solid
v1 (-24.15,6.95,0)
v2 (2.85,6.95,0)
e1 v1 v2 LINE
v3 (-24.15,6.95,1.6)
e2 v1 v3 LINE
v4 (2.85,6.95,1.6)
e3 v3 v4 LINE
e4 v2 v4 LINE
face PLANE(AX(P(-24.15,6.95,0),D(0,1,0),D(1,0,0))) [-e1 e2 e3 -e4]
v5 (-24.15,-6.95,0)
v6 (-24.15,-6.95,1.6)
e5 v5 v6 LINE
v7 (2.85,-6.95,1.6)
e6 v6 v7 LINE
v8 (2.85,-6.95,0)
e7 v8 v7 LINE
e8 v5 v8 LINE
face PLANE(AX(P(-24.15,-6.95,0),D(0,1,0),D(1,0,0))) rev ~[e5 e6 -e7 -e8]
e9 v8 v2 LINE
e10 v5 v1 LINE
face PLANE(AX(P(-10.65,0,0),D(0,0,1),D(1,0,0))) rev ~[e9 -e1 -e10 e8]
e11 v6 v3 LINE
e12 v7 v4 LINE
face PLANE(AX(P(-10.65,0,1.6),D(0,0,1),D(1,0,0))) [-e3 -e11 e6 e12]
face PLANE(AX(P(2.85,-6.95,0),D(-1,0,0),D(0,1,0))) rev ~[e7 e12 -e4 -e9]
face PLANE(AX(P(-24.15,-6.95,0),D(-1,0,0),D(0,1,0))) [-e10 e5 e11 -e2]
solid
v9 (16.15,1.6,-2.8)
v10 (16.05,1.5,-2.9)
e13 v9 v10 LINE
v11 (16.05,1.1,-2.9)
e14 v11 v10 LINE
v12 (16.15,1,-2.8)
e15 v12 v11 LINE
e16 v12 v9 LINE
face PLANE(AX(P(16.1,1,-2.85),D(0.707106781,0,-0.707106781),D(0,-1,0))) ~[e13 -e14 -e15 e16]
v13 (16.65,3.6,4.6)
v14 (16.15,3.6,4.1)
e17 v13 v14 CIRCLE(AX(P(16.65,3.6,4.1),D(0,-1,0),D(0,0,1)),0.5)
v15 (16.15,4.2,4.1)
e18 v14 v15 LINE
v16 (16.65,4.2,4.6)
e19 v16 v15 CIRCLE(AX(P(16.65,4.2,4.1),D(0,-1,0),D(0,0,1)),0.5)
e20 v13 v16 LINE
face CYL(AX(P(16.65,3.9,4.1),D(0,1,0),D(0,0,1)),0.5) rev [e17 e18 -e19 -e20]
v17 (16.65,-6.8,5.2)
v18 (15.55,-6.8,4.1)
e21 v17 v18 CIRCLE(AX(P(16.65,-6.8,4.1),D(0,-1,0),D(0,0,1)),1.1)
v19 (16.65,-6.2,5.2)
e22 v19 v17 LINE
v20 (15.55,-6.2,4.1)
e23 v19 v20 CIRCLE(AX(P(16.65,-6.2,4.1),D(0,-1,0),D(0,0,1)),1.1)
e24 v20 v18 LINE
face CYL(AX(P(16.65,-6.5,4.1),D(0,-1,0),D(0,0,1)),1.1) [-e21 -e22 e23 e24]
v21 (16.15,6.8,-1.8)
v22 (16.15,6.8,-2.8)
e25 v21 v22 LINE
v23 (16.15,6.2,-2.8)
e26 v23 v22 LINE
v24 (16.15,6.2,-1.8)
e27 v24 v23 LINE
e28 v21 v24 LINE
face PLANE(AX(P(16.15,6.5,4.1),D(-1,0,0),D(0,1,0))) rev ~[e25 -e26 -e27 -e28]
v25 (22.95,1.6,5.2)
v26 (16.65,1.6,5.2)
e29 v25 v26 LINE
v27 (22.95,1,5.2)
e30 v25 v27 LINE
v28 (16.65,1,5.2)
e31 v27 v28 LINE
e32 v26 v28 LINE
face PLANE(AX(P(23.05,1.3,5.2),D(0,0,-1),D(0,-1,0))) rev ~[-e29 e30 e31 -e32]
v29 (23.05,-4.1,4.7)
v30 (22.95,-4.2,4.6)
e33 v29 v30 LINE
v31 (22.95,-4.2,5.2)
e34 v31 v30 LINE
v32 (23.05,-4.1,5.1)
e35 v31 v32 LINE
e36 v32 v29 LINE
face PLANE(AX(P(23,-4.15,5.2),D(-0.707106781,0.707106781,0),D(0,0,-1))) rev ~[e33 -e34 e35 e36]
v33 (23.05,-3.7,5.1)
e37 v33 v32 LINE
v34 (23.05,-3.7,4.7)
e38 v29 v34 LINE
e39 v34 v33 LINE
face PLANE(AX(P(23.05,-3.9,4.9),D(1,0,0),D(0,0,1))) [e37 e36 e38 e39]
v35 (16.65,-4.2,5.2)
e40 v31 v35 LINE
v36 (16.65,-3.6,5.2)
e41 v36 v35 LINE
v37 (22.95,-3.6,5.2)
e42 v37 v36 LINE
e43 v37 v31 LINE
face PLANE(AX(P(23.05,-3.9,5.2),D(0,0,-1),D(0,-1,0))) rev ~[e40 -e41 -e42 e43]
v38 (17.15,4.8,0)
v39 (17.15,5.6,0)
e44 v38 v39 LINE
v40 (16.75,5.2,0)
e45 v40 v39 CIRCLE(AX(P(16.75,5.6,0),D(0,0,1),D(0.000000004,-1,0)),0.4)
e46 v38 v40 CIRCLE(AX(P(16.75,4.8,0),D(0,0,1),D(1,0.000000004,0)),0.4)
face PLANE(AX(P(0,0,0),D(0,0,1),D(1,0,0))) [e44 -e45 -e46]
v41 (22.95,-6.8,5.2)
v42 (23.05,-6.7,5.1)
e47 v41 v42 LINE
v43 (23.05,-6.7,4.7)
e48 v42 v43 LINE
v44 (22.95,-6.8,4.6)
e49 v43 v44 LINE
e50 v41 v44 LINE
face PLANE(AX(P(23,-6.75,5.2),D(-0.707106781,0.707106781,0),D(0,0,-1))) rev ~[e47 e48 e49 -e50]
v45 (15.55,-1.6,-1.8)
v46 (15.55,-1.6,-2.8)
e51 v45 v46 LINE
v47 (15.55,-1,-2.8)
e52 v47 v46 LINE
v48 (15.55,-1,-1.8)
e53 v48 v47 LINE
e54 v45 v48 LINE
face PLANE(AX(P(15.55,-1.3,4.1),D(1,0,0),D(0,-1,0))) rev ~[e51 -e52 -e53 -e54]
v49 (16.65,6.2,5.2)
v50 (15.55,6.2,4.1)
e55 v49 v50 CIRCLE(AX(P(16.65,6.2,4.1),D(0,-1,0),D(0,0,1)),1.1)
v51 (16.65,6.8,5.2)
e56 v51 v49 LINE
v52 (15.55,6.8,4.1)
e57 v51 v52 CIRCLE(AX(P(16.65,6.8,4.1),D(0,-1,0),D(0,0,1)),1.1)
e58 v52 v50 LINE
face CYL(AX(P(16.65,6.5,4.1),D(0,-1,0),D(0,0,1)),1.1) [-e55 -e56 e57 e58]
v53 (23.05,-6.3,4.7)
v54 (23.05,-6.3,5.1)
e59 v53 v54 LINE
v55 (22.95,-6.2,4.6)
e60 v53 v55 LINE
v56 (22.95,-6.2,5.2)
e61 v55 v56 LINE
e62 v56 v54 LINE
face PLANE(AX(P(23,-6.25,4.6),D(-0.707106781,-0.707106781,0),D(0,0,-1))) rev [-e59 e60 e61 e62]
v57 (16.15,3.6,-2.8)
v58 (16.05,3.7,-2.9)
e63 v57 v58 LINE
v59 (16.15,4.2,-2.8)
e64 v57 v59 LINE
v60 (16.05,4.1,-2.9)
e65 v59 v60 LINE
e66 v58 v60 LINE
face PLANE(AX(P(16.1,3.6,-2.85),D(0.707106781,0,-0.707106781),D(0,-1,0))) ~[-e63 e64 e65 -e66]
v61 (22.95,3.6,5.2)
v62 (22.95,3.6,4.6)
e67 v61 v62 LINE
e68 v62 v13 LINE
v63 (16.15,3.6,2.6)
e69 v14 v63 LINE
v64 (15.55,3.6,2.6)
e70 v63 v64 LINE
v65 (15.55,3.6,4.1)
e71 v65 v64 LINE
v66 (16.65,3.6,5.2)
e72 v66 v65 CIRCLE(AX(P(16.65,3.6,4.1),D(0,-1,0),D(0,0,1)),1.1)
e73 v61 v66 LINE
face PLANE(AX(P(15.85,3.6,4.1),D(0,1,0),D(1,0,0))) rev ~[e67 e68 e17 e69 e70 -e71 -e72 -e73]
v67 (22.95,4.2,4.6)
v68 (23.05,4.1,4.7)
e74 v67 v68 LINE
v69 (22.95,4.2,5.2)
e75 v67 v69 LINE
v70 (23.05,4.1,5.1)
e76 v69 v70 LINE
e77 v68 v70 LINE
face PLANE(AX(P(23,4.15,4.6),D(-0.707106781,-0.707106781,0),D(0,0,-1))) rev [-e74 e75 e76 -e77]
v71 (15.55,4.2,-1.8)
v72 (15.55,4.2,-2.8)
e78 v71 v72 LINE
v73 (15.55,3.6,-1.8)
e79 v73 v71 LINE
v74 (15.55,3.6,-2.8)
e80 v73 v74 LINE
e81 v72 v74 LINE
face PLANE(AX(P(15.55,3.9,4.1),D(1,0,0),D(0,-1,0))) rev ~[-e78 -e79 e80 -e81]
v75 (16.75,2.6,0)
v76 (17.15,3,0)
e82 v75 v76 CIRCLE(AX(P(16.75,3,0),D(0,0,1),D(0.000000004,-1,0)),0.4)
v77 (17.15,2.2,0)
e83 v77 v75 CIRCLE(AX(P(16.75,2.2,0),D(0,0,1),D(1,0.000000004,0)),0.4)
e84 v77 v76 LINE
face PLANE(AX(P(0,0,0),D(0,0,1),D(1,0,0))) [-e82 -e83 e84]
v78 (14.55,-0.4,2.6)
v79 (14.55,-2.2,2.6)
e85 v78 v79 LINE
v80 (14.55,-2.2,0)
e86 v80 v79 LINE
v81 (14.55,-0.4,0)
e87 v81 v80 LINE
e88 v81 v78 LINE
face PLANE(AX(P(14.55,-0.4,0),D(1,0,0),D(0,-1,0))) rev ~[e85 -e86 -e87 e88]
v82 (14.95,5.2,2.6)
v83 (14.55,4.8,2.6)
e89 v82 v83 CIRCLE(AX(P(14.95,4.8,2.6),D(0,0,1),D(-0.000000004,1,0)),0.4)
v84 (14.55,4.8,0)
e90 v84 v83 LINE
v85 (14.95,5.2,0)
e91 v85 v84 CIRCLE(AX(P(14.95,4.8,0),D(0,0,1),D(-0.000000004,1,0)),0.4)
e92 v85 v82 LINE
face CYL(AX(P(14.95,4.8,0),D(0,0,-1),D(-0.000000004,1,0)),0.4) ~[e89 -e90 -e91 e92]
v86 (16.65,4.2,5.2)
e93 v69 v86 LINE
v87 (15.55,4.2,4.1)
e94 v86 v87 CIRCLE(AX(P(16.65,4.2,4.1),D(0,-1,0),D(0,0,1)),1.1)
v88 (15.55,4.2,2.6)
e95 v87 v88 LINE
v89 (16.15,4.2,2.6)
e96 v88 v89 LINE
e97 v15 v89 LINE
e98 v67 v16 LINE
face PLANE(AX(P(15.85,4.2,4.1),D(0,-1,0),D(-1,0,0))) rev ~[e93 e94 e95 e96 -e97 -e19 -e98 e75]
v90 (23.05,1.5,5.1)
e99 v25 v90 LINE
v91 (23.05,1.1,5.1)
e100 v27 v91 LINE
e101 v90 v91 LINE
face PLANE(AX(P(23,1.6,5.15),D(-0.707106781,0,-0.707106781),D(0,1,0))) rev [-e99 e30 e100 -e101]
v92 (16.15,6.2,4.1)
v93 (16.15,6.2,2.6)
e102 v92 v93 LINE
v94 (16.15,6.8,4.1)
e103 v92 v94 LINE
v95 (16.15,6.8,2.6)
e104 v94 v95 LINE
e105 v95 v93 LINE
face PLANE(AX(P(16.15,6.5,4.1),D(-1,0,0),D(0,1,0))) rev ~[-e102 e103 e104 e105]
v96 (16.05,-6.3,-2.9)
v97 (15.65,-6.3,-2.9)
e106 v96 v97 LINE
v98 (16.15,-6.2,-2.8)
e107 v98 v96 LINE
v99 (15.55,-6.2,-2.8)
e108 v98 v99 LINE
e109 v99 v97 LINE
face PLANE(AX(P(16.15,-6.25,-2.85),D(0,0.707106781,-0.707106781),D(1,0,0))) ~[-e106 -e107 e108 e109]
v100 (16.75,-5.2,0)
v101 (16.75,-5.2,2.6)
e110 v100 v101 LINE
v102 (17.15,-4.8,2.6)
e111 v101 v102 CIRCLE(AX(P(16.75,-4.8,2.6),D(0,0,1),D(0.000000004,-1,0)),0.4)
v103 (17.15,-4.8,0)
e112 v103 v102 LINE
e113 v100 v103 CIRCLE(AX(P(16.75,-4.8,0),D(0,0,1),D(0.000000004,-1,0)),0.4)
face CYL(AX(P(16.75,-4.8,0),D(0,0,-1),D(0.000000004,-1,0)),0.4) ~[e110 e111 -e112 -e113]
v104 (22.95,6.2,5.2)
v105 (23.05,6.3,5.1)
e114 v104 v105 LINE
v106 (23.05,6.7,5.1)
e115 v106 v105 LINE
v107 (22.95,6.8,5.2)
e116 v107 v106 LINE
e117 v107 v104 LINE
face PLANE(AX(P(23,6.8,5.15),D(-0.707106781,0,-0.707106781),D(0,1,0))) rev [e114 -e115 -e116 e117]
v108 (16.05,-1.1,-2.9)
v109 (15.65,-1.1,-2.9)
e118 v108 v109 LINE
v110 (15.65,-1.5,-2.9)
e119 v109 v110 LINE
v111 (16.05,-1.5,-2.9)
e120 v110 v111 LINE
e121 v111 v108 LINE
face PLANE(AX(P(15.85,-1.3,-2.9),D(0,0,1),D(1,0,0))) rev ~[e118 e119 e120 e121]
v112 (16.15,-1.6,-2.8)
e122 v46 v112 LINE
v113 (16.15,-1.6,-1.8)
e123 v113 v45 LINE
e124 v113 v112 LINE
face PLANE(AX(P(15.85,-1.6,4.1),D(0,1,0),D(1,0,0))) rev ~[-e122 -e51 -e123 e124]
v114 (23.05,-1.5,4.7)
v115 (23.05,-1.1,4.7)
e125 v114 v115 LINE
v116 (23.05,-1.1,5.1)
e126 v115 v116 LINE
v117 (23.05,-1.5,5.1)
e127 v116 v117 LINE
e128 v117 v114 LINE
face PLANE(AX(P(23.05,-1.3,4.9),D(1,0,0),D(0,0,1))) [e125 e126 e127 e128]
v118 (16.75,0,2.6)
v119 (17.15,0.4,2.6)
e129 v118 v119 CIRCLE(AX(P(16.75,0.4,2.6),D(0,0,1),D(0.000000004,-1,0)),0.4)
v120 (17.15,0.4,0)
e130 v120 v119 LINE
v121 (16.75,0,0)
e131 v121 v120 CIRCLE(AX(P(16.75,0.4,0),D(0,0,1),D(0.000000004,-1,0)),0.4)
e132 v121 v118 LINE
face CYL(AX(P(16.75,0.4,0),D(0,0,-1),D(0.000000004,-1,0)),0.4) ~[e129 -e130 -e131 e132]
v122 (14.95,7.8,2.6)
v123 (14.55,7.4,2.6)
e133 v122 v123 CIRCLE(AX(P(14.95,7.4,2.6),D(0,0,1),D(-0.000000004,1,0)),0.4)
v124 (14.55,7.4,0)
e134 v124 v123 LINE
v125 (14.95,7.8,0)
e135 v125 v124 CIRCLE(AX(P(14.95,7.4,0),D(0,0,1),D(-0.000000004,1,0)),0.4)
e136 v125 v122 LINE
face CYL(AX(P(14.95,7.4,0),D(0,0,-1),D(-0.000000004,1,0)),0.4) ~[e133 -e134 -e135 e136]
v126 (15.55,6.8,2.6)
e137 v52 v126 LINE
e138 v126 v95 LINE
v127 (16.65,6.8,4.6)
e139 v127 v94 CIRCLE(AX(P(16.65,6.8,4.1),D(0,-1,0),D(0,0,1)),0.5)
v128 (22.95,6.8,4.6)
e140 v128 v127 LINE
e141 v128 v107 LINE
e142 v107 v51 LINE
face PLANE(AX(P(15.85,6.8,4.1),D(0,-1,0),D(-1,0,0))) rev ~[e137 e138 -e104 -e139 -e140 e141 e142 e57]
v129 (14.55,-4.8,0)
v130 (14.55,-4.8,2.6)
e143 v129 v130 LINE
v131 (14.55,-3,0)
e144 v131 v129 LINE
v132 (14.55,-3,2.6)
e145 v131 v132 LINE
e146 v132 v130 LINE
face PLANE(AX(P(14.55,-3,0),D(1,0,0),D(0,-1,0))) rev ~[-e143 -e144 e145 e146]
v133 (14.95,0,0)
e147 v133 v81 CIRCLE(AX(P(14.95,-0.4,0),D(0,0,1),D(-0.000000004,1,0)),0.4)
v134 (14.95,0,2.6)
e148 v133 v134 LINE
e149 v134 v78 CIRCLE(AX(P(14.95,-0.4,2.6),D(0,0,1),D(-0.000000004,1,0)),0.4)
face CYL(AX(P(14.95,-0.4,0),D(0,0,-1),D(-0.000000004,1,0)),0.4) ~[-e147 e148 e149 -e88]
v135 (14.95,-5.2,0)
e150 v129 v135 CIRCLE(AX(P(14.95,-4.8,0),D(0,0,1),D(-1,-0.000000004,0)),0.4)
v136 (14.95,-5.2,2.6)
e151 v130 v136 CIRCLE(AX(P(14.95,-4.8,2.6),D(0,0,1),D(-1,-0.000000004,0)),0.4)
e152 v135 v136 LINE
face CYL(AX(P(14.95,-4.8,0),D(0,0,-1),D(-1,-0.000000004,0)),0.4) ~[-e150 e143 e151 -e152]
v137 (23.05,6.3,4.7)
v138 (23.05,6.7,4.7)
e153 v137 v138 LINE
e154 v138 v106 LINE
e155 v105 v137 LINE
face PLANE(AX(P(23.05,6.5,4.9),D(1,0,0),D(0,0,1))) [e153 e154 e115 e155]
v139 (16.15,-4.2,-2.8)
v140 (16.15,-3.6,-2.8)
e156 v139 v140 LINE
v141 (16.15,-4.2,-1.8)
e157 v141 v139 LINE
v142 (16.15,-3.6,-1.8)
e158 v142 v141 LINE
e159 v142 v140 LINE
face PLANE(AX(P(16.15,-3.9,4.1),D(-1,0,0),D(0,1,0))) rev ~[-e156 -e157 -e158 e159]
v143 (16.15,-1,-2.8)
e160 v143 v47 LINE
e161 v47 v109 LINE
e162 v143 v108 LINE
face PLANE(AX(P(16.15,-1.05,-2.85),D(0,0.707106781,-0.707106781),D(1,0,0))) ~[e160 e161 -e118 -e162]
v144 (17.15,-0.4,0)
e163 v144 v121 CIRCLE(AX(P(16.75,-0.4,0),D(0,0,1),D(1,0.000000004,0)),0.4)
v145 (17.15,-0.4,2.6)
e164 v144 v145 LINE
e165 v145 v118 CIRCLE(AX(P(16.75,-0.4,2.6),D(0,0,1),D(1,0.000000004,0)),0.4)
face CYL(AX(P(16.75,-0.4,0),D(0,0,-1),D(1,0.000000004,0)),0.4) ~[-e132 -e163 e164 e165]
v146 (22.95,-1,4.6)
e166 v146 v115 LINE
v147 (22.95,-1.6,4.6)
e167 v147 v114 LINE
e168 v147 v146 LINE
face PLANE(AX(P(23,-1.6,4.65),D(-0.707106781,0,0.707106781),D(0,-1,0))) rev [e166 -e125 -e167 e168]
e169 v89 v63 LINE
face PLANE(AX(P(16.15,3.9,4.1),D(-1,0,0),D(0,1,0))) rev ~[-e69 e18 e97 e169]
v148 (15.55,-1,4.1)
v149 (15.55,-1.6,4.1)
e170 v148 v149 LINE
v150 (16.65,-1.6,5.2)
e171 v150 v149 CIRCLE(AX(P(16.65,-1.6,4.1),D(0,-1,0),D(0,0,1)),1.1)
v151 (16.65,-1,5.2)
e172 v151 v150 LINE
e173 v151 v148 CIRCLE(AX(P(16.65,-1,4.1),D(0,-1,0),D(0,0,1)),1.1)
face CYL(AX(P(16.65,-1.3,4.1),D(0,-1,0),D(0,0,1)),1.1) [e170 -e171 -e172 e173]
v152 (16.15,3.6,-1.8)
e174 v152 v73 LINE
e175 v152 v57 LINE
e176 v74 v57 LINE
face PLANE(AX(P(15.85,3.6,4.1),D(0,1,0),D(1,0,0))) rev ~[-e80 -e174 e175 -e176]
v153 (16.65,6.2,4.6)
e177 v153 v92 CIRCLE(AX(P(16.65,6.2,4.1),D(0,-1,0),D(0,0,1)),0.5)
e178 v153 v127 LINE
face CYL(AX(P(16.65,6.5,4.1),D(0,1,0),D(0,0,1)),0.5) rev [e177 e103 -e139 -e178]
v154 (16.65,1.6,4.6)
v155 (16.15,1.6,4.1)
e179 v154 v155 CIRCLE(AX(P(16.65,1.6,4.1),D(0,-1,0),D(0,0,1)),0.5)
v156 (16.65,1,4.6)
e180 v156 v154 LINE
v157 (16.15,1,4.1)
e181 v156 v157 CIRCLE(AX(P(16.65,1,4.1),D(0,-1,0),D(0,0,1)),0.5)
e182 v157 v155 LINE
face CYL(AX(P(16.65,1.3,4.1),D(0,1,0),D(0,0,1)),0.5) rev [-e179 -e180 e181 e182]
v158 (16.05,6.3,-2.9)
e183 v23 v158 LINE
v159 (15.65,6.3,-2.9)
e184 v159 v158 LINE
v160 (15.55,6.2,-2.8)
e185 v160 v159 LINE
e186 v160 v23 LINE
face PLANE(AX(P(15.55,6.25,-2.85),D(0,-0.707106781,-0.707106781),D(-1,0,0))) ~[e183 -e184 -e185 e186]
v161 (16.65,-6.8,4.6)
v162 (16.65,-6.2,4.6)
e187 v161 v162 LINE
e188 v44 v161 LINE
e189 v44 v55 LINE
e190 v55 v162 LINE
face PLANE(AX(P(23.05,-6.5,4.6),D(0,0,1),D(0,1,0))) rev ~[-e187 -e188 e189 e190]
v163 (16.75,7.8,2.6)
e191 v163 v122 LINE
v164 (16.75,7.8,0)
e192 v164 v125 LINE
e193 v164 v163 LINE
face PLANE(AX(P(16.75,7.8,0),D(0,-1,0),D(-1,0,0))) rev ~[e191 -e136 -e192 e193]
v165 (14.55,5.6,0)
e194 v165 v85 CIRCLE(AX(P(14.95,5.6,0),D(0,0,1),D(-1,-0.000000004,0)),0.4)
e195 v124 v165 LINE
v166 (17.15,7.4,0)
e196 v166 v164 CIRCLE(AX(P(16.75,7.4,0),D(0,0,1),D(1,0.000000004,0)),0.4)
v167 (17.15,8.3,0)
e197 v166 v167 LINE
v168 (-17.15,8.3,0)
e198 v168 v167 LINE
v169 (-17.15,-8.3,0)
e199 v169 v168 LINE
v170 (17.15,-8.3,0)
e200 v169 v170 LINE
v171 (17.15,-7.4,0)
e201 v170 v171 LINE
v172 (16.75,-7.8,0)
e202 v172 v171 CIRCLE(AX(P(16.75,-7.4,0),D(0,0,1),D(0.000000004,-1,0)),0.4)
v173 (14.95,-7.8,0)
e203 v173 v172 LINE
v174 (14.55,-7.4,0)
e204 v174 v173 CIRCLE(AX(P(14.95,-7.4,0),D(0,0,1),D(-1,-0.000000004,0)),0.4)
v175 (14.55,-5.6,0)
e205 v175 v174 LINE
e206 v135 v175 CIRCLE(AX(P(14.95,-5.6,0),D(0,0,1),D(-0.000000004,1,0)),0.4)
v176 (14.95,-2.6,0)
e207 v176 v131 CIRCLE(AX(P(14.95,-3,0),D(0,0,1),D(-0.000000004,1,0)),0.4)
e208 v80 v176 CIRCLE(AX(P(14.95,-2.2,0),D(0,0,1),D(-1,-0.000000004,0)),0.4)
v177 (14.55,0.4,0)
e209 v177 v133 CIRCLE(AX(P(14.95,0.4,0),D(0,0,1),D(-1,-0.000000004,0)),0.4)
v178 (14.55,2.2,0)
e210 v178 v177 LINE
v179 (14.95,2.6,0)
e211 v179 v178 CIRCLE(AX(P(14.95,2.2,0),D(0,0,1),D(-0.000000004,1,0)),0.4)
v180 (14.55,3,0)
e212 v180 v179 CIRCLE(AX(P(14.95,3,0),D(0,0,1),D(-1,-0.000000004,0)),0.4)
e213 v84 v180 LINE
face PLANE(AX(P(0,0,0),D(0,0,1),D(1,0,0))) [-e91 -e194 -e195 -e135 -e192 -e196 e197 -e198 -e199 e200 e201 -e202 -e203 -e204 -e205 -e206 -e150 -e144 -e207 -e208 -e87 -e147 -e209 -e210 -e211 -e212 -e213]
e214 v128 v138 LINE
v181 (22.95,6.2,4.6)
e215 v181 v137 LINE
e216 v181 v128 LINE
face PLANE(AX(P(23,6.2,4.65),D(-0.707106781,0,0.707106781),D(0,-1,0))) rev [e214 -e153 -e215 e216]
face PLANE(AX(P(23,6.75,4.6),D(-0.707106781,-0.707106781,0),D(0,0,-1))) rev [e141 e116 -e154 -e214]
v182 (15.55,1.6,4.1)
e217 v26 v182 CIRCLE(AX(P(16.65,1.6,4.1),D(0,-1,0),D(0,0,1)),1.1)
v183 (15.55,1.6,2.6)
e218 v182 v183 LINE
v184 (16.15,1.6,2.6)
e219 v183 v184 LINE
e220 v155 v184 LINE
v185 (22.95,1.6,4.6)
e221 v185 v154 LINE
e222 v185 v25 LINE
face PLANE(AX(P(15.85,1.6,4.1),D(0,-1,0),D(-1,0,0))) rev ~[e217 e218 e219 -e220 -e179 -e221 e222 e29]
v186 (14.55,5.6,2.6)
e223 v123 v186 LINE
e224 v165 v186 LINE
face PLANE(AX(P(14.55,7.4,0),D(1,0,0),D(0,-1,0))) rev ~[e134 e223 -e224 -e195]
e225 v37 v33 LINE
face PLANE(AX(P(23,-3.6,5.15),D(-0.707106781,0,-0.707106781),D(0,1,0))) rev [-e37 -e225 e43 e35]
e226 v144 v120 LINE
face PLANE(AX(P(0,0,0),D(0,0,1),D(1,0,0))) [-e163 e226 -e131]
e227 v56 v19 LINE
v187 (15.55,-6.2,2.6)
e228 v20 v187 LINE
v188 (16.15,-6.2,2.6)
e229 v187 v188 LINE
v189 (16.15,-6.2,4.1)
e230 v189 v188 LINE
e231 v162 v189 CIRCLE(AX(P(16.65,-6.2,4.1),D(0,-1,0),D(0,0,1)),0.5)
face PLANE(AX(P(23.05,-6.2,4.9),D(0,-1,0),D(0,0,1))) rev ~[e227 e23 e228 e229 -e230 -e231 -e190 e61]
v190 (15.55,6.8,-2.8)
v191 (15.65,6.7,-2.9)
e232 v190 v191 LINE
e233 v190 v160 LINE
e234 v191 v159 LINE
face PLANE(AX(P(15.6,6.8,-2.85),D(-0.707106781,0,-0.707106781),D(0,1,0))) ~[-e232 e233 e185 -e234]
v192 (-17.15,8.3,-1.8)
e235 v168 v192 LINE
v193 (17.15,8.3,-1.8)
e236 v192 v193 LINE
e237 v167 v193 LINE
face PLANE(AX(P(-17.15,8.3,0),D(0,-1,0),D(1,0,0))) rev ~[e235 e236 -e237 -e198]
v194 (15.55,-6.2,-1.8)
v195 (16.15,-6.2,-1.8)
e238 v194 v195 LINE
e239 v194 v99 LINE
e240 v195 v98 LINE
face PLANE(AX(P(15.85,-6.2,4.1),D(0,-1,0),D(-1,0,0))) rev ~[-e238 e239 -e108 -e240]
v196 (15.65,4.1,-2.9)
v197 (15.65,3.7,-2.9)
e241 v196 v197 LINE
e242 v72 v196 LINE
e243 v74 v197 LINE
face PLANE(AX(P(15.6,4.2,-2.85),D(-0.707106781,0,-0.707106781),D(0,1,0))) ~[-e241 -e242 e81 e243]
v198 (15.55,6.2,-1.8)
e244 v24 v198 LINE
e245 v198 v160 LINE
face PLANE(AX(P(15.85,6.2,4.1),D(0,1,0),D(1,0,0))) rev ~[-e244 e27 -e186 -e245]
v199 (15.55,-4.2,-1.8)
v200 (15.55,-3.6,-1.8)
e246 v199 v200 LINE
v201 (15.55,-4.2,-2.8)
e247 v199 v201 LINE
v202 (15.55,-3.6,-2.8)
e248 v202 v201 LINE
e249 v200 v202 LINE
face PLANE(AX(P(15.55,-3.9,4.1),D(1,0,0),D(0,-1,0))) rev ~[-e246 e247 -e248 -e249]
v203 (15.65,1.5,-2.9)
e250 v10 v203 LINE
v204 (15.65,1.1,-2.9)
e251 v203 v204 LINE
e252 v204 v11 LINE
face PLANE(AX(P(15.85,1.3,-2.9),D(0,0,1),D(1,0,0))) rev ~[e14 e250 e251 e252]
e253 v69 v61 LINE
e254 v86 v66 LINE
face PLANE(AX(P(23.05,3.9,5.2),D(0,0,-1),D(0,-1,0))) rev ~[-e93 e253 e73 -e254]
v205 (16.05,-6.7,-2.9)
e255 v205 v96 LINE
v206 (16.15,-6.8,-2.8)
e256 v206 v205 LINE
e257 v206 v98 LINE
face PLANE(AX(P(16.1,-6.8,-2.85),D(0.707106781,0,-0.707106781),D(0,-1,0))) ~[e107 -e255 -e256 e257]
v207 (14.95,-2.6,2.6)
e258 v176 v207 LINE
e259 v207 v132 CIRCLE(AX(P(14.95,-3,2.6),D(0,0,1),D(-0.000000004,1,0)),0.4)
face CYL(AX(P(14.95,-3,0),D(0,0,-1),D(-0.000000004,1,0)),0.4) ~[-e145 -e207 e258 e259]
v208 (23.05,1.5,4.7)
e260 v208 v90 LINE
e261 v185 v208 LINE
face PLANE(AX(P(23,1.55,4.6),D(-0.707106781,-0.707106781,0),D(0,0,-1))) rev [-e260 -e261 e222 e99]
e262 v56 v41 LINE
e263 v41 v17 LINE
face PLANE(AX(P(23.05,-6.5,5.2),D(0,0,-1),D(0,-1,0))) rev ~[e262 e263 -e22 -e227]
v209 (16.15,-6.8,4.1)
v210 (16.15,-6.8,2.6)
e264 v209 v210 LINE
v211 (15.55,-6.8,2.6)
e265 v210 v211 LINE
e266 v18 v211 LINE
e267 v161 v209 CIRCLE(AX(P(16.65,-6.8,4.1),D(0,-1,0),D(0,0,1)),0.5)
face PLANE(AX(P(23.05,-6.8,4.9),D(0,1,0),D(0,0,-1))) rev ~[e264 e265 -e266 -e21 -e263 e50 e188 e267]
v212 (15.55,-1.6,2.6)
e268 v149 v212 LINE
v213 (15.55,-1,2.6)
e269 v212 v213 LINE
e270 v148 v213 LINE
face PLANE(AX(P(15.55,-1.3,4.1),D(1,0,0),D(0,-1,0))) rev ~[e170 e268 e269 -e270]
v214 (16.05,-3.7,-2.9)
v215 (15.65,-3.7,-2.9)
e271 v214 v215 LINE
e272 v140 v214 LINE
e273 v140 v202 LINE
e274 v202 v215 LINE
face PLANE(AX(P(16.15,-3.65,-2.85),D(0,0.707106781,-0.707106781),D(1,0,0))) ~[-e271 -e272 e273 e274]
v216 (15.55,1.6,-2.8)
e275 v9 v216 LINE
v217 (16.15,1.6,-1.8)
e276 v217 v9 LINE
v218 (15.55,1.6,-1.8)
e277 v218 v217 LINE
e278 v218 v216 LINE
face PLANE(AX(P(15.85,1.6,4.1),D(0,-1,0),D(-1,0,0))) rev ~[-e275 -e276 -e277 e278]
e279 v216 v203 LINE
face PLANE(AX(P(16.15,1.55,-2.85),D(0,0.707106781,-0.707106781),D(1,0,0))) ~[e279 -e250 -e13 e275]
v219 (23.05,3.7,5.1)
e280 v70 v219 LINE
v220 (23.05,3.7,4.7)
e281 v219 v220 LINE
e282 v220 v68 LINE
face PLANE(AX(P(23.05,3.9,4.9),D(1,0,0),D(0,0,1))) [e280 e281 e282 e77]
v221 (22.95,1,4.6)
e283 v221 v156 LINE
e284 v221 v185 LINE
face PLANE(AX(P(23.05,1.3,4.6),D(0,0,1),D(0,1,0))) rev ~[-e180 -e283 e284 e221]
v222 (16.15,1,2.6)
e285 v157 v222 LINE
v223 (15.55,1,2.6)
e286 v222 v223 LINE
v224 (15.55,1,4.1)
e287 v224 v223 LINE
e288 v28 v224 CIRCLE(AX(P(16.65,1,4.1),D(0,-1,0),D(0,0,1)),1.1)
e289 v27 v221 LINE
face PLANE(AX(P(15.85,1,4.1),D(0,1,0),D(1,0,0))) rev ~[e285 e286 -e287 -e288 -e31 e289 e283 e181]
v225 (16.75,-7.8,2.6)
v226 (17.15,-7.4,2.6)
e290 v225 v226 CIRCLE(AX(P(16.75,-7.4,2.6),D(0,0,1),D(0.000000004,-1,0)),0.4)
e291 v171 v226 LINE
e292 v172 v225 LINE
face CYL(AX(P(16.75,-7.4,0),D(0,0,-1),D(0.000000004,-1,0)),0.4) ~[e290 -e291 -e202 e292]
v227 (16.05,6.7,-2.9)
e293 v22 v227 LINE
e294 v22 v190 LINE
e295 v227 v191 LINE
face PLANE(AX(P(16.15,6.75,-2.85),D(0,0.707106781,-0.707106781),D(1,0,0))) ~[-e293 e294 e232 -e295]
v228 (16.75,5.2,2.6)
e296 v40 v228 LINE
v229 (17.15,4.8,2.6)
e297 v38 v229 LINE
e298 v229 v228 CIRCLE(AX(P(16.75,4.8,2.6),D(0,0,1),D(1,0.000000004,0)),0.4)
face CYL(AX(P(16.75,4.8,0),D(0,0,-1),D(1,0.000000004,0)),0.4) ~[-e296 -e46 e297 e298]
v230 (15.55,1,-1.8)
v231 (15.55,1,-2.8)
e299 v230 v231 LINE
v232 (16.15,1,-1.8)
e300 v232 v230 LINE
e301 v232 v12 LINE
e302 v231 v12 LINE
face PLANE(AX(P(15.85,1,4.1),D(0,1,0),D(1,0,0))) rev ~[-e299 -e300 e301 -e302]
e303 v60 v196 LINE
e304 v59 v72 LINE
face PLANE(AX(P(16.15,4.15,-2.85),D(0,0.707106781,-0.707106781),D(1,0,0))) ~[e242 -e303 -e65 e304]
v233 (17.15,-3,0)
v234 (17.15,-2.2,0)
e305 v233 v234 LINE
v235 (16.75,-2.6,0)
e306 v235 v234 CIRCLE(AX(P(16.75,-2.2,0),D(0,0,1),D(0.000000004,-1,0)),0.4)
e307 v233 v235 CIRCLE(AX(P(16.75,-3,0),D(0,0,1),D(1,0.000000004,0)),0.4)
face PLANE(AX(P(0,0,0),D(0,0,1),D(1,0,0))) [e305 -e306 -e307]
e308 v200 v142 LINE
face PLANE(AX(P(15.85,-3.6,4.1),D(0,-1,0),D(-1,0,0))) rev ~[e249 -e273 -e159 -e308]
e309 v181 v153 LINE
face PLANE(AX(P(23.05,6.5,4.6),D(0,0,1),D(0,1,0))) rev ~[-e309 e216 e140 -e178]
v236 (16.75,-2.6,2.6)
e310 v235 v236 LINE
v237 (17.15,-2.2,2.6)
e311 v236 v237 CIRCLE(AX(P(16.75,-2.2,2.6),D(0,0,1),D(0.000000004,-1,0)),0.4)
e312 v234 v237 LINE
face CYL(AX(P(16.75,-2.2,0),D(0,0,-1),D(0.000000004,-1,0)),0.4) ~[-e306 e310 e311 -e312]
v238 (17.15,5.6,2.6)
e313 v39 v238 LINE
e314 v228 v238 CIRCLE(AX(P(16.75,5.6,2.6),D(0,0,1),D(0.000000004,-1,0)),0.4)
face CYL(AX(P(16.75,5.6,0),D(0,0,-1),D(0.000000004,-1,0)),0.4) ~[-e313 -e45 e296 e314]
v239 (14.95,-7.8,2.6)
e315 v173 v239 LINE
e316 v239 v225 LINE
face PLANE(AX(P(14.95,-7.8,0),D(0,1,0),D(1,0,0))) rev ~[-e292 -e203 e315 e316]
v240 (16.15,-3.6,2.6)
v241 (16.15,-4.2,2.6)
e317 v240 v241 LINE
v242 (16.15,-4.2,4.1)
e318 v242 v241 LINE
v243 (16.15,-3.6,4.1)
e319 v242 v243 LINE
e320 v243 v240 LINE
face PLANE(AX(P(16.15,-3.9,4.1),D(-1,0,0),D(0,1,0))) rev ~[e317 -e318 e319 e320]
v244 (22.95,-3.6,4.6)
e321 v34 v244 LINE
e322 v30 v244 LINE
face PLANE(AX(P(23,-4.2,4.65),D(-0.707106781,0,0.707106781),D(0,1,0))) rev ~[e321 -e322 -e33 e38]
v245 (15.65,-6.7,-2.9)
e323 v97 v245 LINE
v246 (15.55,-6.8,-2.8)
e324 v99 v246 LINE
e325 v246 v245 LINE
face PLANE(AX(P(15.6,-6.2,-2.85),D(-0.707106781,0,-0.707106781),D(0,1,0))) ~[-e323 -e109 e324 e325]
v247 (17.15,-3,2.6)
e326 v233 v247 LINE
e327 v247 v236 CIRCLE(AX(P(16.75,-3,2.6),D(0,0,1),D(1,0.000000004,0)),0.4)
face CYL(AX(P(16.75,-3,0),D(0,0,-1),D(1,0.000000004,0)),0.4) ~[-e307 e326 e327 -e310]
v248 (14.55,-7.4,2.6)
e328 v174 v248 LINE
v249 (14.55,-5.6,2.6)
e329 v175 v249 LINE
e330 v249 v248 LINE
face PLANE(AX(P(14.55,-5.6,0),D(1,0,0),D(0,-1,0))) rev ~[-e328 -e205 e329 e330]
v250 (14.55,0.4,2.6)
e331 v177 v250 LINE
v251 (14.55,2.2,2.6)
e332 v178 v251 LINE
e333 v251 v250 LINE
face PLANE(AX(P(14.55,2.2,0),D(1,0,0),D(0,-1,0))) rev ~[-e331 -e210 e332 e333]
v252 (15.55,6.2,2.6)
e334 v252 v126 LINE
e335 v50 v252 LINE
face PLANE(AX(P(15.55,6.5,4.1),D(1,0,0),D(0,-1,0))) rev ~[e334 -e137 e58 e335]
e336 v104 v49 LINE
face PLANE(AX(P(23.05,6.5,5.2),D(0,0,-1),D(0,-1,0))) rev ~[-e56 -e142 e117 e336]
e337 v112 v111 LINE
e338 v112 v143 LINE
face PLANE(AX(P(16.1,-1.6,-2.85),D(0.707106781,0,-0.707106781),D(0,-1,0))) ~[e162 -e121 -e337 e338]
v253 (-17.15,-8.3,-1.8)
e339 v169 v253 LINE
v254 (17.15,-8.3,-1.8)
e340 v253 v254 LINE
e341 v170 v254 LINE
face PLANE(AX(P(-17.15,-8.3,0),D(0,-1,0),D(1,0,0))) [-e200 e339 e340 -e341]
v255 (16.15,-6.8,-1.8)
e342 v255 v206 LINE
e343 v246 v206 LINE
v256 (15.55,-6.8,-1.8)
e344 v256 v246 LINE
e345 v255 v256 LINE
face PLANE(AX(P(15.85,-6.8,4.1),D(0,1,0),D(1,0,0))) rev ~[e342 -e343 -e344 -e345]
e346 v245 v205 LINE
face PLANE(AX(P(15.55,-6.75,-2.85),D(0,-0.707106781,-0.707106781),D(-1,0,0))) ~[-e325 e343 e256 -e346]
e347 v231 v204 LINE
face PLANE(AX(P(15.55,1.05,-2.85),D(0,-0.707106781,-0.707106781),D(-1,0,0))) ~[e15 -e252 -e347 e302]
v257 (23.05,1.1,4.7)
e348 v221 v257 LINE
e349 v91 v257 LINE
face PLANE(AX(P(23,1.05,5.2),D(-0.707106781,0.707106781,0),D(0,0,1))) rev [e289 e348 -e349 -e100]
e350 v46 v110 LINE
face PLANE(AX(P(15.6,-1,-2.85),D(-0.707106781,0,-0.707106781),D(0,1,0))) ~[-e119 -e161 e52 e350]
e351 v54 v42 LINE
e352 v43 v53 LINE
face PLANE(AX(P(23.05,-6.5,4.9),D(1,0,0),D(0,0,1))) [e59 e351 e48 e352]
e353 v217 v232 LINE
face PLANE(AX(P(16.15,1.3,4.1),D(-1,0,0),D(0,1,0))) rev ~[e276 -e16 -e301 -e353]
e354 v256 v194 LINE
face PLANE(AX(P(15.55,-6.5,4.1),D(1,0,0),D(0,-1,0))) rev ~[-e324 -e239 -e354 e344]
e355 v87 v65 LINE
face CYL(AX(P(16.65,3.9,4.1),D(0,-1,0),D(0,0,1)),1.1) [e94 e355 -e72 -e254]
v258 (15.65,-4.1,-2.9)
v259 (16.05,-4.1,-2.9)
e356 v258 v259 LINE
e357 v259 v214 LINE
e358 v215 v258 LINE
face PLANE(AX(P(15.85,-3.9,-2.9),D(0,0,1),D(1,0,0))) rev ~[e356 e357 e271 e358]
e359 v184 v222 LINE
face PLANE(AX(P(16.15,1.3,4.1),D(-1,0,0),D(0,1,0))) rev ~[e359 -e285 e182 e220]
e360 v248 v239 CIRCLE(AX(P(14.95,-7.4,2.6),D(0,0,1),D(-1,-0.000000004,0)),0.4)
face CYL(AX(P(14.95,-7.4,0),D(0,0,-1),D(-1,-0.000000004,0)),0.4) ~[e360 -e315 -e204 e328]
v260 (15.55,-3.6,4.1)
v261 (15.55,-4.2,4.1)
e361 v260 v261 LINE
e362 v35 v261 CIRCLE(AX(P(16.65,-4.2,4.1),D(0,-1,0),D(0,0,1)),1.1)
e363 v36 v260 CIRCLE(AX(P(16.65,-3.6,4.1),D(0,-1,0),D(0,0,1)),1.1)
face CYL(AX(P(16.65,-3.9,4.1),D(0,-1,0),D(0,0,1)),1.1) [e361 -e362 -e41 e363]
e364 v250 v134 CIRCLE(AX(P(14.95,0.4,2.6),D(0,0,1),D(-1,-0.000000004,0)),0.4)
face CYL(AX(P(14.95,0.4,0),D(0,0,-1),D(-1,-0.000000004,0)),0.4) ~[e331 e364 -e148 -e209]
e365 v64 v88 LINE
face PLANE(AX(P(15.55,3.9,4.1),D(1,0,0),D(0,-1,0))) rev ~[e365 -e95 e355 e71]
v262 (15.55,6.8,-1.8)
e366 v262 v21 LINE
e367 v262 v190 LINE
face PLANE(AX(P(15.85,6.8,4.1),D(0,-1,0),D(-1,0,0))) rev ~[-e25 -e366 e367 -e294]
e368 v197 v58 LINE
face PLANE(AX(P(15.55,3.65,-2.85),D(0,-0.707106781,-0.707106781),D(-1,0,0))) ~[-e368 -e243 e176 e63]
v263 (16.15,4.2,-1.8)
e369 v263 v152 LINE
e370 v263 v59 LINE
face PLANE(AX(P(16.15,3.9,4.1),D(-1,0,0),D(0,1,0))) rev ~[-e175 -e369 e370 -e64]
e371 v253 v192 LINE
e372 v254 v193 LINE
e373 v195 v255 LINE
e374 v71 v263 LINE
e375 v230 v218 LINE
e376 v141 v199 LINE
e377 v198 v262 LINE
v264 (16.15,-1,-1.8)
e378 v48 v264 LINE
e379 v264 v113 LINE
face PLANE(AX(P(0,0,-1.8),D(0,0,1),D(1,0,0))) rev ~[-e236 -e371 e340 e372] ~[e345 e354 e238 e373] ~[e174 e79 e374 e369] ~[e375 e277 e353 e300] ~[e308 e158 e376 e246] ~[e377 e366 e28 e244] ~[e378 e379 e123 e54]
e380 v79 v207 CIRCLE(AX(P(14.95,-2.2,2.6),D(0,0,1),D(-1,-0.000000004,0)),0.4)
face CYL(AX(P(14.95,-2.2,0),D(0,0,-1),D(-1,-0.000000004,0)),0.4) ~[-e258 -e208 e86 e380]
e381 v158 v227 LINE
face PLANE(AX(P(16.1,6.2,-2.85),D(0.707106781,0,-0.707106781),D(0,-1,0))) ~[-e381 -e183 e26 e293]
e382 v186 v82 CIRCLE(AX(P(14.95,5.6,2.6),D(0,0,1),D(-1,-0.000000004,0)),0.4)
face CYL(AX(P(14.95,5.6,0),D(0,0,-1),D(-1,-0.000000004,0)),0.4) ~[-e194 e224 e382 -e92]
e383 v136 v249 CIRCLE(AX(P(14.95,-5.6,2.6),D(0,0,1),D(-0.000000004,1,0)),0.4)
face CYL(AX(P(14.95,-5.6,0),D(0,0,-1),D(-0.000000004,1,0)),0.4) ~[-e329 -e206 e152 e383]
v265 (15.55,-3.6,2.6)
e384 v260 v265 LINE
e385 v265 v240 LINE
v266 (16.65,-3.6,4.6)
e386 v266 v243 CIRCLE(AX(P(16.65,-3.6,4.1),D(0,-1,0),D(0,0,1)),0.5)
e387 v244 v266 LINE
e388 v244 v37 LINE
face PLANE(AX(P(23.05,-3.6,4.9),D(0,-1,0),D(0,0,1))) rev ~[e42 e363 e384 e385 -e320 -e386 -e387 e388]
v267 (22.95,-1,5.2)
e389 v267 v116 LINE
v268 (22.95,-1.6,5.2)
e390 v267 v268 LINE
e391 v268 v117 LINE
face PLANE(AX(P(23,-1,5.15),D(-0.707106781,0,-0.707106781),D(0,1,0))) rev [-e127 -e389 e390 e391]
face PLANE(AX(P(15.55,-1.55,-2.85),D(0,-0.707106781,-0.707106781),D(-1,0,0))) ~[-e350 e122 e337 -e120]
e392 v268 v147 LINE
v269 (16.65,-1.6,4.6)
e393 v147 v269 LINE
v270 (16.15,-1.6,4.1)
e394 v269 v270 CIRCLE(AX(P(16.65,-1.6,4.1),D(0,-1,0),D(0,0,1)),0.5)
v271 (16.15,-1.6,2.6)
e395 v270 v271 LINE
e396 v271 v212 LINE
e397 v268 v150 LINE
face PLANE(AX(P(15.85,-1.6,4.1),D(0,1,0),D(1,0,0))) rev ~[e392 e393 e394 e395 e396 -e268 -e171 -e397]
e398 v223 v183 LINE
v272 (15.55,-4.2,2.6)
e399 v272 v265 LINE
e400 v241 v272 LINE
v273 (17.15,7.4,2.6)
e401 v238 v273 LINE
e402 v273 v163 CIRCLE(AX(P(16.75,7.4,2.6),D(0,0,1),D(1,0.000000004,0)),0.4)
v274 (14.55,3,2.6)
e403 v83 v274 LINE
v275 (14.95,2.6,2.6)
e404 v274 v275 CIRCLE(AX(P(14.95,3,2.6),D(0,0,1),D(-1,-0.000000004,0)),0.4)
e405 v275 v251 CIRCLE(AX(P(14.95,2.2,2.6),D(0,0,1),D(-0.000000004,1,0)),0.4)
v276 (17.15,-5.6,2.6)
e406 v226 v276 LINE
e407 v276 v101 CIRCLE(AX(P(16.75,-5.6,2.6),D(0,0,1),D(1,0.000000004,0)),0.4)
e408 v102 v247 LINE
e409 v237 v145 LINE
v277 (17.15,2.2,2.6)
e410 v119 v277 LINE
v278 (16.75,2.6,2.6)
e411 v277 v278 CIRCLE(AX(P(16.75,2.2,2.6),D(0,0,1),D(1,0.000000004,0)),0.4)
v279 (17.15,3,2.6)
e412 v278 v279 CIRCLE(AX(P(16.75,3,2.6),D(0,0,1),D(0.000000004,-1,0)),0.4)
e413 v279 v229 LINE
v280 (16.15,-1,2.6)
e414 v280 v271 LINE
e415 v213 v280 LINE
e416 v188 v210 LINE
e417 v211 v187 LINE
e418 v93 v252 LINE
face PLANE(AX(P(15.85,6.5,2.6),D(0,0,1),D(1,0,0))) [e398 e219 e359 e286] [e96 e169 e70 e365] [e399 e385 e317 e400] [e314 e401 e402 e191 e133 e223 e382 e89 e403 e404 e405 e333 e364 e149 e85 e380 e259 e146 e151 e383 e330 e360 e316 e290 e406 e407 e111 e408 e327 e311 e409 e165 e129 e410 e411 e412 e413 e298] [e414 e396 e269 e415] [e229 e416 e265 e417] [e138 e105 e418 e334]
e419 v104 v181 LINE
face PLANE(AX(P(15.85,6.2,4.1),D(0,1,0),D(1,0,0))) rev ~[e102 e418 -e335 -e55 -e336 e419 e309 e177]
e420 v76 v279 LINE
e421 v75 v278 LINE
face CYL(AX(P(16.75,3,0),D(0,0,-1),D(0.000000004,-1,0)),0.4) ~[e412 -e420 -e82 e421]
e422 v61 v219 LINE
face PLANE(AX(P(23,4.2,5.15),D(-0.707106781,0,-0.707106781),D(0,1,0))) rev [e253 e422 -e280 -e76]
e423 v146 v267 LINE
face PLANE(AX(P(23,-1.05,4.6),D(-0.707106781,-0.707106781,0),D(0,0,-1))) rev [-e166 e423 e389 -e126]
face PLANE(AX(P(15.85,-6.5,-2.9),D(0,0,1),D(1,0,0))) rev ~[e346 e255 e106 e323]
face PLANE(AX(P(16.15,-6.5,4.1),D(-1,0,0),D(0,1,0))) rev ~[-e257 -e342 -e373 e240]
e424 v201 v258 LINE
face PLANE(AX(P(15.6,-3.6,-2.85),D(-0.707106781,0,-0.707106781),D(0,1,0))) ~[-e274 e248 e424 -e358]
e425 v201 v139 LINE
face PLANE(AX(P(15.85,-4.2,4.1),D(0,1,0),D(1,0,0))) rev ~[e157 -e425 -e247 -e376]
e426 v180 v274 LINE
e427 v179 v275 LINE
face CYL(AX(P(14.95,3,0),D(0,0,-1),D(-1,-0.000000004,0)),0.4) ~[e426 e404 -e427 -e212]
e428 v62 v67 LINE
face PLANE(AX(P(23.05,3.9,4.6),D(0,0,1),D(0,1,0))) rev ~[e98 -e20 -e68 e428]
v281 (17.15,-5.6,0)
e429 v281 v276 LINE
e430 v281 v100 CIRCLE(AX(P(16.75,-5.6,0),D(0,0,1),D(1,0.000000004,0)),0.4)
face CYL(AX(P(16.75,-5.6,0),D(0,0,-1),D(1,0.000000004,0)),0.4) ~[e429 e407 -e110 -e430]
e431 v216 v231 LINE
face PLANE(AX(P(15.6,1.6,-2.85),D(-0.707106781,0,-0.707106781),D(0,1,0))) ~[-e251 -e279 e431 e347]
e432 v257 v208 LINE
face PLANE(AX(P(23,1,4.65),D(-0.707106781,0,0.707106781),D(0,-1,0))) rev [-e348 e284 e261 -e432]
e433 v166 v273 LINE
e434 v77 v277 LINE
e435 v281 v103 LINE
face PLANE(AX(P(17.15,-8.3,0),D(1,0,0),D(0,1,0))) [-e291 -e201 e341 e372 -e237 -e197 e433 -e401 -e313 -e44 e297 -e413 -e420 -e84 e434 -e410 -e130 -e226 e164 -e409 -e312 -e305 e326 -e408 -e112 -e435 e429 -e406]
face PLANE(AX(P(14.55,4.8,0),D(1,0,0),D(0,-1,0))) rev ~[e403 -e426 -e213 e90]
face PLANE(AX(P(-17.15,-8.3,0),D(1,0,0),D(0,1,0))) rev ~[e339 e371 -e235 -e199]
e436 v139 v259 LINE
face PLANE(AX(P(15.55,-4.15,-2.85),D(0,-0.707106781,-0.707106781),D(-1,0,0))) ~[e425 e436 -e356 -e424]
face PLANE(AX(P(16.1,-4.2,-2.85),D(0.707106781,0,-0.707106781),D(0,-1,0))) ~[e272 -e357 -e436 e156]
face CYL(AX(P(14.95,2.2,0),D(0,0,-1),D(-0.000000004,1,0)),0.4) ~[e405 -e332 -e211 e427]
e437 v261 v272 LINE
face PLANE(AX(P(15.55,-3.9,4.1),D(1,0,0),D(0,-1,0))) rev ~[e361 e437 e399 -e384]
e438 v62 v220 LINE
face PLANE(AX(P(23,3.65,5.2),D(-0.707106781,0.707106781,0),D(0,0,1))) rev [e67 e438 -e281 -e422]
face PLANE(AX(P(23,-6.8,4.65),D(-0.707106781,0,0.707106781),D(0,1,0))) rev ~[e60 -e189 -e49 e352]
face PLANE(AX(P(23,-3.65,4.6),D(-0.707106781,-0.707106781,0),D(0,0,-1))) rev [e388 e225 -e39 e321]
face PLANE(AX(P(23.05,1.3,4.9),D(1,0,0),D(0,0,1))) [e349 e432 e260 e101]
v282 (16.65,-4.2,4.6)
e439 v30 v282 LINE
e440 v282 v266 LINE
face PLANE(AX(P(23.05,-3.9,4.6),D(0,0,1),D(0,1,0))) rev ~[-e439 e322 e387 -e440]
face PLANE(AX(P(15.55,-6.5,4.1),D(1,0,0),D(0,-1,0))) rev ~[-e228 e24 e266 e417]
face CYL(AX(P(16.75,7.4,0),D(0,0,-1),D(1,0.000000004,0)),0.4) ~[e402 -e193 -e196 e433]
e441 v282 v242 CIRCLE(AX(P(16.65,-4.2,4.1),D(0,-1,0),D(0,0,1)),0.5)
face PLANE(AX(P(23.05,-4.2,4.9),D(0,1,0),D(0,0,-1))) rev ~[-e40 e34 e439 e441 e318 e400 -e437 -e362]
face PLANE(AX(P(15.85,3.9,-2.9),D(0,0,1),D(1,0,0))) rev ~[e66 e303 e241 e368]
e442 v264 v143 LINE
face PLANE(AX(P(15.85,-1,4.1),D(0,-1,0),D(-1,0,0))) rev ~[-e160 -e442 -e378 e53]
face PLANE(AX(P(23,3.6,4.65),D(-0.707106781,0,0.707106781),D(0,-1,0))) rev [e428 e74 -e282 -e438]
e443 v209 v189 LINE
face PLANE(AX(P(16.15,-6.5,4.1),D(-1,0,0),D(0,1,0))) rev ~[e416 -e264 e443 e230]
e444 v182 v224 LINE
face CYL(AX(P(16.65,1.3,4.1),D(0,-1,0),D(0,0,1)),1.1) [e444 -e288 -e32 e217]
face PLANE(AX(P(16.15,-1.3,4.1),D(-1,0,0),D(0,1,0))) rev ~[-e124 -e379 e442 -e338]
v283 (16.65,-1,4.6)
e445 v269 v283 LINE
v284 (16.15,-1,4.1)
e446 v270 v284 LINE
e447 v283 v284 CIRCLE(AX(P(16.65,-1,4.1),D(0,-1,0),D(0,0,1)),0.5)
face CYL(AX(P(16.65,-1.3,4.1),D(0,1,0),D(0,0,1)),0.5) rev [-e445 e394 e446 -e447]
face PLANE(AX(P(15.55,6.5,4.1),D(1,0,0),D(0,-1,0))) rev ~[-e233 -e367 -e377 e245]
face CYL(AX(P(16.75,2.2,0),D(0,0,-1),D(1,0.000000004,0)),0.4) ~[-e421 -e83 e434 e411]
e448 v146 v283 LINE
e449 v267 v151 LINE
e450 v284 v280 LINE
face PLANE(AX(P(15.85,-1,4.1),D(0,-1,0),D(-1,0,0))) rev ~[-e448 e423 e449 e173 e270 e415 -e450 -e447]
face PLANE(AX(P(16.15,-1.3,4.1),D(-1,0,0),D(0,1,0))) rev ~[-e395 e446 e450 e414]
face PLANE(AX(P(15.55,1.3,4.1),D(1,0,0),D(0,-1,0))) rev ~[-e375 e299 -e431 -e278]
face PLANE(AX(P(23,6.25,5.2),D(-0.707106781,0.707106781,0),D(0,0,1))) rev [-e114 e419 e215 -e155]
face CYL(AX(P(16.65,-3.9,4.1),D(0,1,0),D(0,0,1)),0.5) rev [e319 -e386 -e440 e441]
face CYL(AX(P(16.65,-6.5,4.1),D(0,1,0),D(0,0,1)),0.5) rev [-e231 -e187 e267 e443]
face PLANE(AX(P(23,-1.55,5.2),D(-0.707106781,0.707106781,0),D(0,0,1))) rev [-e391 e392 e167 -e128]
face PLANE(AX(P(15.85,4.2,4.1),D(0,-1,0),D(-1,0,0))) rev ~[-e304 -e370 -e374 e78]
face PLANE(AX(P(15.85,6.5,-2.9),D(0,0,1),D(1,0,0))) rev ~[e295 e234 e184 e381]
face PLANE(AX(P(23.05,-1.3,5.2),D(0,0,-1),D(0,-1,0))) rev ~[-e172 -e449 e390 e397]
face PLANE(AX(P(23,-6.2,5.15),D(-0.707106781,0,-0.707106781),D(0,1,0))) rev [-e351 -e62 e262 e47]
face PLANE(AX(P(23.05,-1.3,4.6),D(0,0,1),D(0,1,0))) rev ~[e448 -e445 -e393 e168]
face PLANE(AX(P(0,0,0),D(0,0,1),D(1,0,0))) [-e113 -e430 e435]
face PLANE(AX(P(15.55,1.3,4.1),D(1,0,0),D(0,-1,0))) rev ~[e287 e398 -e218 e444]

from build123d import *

# Parameters (mm, degrees)
SKETCH1_W                  = 34.3
SKETCH1_H                  = 16.6
BOSS_EXTRUDE1_DEPTH        = 1.8
SKETCH2_W                  = 27
SKETCH2_H                  = 13.9
BOSS_EXTRUDE2_DEPTH        = 1.6
BOSS_EXTRUDE3_DEPTH        = 2.6
LPATTERN1_COUNT            = 2
LPATTERN1_PITCH            = 7.8
SKETCH6_W                  = 0.6
SKETCH6_H                  = 0.6
CHAMFER1_SIZE              = 0.1
LPATTERN2_COUNT            = 6
LPATTERN2_PITCH            = 2.6
CHAMFER1_OF_LPATTERN2_SIZE = 0.1


with BuildPart() as part:
    # Sketch1 → Boss-Extrude1 (new body)
    with BuildSketch(Plane.XY):
        Rectangle(SKETCH1_W, SKETCH1_H)
    extrude(amount=-BOSS_EXTRUDE1_DEPTH)



with BuildPart() as body_2:
    # Sketch2 → Boss-Extrude2 (new body)
    with BuildSketch(Plane.XY):
        with Locations((-10.65, 0)):
            Rectangle(SKETCH2_W, SKETCH2_H)
    extrude(amount=BOSS_EXTRUDE2_DEPTH)


with BuildPart() as body_3:
    # Sketch3 → Boss-Extrude3 (new body)
    with BuildSketch(Plane.XY):
        with BuildLine():
            ThreePointArc((14.55, -2.2), (14.667157288, -2.482842712), (14.95, -2.6))
            Line((14.95, -2.6), (16.75, -2.6))
            ThreePointArc((16.75, -2.6), (17.032842712, -2.482842712), (17.15, -2.2))
            Line((17.15, -2.2), (17.15, -0.4))
            ThreePointArc((17.15, -0.4), (17.032842712, -0.117157288), (16.75, 0))
            Line((16.75, 0), (14.95, 0))
            ThreePointArc((14.95, 0), (14.667157288, -0.117157288), (14.55, -0.4))
            Line((14.55, -0.4), (14.55, -2.2))
        make_face()
        with BuildLine():
            Line((16.75, -2.6), (14.95, -2.6))
            ThreePointArc((14.95, -2.6), (14.667157288, -2.717157288), (14.55, -3))
            Line((14.55, -3), (14.55, -4.8))
            ThreePointArc((14.55, -4.8), (14.667157288, -5.082842712), (14.95, -5.2))
            Line((14.95, -5.2), (16.75, -5.2))
            ThreePointArc((16.75, -5.2), (17.032842712, -5.082842712), (17.15, -4.8))
            Line((17.15, -4.8), (17.15, -3))
            ThreePointArc((17.15, -3), (17.032842712, -2.717157288), (16.75, -2.6))
        make_face()
        with BuildLine():
            Line((16.75, -5.2), (14.95, -5.2))
            ThreePointArc((14.95, -5.2), (14.667157288, -5.317157288), (14.55, -5.6))
            Line((14.55, -5.6), (14.55, -7.4))
            ThreePointArc((14.55, -7.4), (14.667157288, -7.682842712), (14.95, -7.8))
            Line((14.95, -7.8), (16.75, -7.8))
            ThreePointArc((16.75, -7.8), (17.032842712, -7.682842712), (17.15, -7.4))
            Line((17.15, -7.4), (17.15, -5.6))
            ThreePointArc((17.15, -5.6), (17.032842712, -5.317157288), (16.75, -5.2))
        make_face()
    boss_extrude3 = extrude(amount=BOSS_EXTRUDE3_DEPTH)


with BuildPart() as lpattern1_1:
    # LPattern1: Boss-Extrude3 ×2
    with Locations(*[(0, i * LPATTERN1_PITCH, 0) for i in range(1, LPATTERN1_COUNT)]):
        add(boss_extrude3)


with BuildPart() as part_1:
    add(part.part)

    add(body_3.part)  # Sweep2 merges body 3
    # Sweep2: sweep along a path in Sketch5
    with BuildLine(Plane(origin=(0, -6.5, 0), x_dir=(-1, 0, 0), z_dir=(0, -1, 0))) as sweep2_path:
        Line((-23.05, -4.9), (-16.65, -4.9))
        ThreePointArc((-16.65, -4.9), (-16.084314575, -4.665685425), (-15.85, -4.1))
        Line((-15.85, -4.1), (-15.85, -2.6))
        Line((-15.85, -2.6), (-15.85, 2.9))
    # Sketch6 → Sweep2 (sweep)
    with BuildSketch(Plane(origin=(23.05, 0, 0), x_dir=(0, 0, -1), z_dir=(1, 0, 0))):
        with Locations((-4.9, -6.5)):
            Rectangle(SKETCH6_W, SKETCH6_H)
    sweep2 = sweep(path=sweep2_path.line)

    # Chamfer1
    chamfer1_edges = [part_1.edges().sort_by_distance(p)[0] for p in [
        (23.05, -6.5, 5.2),
        (23.05, -6.8, 4.9),
        (23.05, -6.5, 4.6),
        (23.05, -6.2, 4.9),
        (16.15, -6.5, -2.9),
        (15.85, -6.2, -2.9),
        (15.55, -6.5, -2.9),
        (15.85, -6.8, -2.9),
    ]]
    chamfer(chamfer1_edges, length=CHAMFER1_SIZE)


    add(lpattern1_1.part)  # LPattern2 merges LPattern1_1
    # LPattern2: Sweep2 ×6
    with Locations(*[(0, i * LPATTERN2_PITCH, 0) for i in range(1, LPATTERN2_COUNT)]):
        add(sweep2)

    # Chamfer1 of LPattern2
    chamfer1_of_lpattern2_edges = [part_1.edges().sort_by_distance(p)[0] for p in [
        (23.05, -3.9, 5.2),
        (23.05, -4.2, 4.9),
        (23.05, -3.9, 4.6),
        (23.05, -3.6, 4.9),
        (16.15, -3.9, -2.9),
        (15.85, -3.6, -2.9),
        (15.55, -3.9, -2.9),
        (15.85, -4.2, -2.9),
        (23.05, -1.3, 5.2),
        (23.05, -1.6, 4.9),
        (23.05, -1.3, 4.6),
        (23.05, -1, 4.9),
        (16.15, -1.3, -2.9),
        (15.85, -1, -2.9),
        (15.55, -1.3, -2.9),
        (15.85, -1.6, -2.9),
        (23.05, 1.3, 5.2),
        (23.05, 1, 4.9),
        (23.05, 1.3, 4.6),
        (23.05, 1.6, 4.9),
        (16.15, 1.3, -2.9),
        (15.85, 1.6, -2.9),
        (15.55, 1.3, -2.9),
        (15.85, 1, -2.9),
        (23.05, 3.9, 5.2),
        (23.05, 3.6, 4.9),
        (23.05, 3.9, 4.6),
        (23.05, 4.2, 4.9),
        (16.15, 3.9, -2.9),
        (15.85, 4.2, -2.9),
        (15.55, 3.9, -2.9),
        (15.85, 3.6, -2.9),
        (23.05, 6.5, 5.2),
        (23.05, 6.2, 4.9),
        (23.05, 6.5, 4.6),
        (23.05, 6.8, 4.9),
        (16.15, 6.5, -2.9),
        (15.85, 6.8, -2.9),
        (15.55, 6.5, -2.9),
        (15.85, 6.2, -2.9),
    ]]
    chamfer(chamfer1_of_lpattern2_edges, length=CHAMFER1_OF_LPATTERN2_SIZE)


solid = Compound([body_2.part, part_1.part])
